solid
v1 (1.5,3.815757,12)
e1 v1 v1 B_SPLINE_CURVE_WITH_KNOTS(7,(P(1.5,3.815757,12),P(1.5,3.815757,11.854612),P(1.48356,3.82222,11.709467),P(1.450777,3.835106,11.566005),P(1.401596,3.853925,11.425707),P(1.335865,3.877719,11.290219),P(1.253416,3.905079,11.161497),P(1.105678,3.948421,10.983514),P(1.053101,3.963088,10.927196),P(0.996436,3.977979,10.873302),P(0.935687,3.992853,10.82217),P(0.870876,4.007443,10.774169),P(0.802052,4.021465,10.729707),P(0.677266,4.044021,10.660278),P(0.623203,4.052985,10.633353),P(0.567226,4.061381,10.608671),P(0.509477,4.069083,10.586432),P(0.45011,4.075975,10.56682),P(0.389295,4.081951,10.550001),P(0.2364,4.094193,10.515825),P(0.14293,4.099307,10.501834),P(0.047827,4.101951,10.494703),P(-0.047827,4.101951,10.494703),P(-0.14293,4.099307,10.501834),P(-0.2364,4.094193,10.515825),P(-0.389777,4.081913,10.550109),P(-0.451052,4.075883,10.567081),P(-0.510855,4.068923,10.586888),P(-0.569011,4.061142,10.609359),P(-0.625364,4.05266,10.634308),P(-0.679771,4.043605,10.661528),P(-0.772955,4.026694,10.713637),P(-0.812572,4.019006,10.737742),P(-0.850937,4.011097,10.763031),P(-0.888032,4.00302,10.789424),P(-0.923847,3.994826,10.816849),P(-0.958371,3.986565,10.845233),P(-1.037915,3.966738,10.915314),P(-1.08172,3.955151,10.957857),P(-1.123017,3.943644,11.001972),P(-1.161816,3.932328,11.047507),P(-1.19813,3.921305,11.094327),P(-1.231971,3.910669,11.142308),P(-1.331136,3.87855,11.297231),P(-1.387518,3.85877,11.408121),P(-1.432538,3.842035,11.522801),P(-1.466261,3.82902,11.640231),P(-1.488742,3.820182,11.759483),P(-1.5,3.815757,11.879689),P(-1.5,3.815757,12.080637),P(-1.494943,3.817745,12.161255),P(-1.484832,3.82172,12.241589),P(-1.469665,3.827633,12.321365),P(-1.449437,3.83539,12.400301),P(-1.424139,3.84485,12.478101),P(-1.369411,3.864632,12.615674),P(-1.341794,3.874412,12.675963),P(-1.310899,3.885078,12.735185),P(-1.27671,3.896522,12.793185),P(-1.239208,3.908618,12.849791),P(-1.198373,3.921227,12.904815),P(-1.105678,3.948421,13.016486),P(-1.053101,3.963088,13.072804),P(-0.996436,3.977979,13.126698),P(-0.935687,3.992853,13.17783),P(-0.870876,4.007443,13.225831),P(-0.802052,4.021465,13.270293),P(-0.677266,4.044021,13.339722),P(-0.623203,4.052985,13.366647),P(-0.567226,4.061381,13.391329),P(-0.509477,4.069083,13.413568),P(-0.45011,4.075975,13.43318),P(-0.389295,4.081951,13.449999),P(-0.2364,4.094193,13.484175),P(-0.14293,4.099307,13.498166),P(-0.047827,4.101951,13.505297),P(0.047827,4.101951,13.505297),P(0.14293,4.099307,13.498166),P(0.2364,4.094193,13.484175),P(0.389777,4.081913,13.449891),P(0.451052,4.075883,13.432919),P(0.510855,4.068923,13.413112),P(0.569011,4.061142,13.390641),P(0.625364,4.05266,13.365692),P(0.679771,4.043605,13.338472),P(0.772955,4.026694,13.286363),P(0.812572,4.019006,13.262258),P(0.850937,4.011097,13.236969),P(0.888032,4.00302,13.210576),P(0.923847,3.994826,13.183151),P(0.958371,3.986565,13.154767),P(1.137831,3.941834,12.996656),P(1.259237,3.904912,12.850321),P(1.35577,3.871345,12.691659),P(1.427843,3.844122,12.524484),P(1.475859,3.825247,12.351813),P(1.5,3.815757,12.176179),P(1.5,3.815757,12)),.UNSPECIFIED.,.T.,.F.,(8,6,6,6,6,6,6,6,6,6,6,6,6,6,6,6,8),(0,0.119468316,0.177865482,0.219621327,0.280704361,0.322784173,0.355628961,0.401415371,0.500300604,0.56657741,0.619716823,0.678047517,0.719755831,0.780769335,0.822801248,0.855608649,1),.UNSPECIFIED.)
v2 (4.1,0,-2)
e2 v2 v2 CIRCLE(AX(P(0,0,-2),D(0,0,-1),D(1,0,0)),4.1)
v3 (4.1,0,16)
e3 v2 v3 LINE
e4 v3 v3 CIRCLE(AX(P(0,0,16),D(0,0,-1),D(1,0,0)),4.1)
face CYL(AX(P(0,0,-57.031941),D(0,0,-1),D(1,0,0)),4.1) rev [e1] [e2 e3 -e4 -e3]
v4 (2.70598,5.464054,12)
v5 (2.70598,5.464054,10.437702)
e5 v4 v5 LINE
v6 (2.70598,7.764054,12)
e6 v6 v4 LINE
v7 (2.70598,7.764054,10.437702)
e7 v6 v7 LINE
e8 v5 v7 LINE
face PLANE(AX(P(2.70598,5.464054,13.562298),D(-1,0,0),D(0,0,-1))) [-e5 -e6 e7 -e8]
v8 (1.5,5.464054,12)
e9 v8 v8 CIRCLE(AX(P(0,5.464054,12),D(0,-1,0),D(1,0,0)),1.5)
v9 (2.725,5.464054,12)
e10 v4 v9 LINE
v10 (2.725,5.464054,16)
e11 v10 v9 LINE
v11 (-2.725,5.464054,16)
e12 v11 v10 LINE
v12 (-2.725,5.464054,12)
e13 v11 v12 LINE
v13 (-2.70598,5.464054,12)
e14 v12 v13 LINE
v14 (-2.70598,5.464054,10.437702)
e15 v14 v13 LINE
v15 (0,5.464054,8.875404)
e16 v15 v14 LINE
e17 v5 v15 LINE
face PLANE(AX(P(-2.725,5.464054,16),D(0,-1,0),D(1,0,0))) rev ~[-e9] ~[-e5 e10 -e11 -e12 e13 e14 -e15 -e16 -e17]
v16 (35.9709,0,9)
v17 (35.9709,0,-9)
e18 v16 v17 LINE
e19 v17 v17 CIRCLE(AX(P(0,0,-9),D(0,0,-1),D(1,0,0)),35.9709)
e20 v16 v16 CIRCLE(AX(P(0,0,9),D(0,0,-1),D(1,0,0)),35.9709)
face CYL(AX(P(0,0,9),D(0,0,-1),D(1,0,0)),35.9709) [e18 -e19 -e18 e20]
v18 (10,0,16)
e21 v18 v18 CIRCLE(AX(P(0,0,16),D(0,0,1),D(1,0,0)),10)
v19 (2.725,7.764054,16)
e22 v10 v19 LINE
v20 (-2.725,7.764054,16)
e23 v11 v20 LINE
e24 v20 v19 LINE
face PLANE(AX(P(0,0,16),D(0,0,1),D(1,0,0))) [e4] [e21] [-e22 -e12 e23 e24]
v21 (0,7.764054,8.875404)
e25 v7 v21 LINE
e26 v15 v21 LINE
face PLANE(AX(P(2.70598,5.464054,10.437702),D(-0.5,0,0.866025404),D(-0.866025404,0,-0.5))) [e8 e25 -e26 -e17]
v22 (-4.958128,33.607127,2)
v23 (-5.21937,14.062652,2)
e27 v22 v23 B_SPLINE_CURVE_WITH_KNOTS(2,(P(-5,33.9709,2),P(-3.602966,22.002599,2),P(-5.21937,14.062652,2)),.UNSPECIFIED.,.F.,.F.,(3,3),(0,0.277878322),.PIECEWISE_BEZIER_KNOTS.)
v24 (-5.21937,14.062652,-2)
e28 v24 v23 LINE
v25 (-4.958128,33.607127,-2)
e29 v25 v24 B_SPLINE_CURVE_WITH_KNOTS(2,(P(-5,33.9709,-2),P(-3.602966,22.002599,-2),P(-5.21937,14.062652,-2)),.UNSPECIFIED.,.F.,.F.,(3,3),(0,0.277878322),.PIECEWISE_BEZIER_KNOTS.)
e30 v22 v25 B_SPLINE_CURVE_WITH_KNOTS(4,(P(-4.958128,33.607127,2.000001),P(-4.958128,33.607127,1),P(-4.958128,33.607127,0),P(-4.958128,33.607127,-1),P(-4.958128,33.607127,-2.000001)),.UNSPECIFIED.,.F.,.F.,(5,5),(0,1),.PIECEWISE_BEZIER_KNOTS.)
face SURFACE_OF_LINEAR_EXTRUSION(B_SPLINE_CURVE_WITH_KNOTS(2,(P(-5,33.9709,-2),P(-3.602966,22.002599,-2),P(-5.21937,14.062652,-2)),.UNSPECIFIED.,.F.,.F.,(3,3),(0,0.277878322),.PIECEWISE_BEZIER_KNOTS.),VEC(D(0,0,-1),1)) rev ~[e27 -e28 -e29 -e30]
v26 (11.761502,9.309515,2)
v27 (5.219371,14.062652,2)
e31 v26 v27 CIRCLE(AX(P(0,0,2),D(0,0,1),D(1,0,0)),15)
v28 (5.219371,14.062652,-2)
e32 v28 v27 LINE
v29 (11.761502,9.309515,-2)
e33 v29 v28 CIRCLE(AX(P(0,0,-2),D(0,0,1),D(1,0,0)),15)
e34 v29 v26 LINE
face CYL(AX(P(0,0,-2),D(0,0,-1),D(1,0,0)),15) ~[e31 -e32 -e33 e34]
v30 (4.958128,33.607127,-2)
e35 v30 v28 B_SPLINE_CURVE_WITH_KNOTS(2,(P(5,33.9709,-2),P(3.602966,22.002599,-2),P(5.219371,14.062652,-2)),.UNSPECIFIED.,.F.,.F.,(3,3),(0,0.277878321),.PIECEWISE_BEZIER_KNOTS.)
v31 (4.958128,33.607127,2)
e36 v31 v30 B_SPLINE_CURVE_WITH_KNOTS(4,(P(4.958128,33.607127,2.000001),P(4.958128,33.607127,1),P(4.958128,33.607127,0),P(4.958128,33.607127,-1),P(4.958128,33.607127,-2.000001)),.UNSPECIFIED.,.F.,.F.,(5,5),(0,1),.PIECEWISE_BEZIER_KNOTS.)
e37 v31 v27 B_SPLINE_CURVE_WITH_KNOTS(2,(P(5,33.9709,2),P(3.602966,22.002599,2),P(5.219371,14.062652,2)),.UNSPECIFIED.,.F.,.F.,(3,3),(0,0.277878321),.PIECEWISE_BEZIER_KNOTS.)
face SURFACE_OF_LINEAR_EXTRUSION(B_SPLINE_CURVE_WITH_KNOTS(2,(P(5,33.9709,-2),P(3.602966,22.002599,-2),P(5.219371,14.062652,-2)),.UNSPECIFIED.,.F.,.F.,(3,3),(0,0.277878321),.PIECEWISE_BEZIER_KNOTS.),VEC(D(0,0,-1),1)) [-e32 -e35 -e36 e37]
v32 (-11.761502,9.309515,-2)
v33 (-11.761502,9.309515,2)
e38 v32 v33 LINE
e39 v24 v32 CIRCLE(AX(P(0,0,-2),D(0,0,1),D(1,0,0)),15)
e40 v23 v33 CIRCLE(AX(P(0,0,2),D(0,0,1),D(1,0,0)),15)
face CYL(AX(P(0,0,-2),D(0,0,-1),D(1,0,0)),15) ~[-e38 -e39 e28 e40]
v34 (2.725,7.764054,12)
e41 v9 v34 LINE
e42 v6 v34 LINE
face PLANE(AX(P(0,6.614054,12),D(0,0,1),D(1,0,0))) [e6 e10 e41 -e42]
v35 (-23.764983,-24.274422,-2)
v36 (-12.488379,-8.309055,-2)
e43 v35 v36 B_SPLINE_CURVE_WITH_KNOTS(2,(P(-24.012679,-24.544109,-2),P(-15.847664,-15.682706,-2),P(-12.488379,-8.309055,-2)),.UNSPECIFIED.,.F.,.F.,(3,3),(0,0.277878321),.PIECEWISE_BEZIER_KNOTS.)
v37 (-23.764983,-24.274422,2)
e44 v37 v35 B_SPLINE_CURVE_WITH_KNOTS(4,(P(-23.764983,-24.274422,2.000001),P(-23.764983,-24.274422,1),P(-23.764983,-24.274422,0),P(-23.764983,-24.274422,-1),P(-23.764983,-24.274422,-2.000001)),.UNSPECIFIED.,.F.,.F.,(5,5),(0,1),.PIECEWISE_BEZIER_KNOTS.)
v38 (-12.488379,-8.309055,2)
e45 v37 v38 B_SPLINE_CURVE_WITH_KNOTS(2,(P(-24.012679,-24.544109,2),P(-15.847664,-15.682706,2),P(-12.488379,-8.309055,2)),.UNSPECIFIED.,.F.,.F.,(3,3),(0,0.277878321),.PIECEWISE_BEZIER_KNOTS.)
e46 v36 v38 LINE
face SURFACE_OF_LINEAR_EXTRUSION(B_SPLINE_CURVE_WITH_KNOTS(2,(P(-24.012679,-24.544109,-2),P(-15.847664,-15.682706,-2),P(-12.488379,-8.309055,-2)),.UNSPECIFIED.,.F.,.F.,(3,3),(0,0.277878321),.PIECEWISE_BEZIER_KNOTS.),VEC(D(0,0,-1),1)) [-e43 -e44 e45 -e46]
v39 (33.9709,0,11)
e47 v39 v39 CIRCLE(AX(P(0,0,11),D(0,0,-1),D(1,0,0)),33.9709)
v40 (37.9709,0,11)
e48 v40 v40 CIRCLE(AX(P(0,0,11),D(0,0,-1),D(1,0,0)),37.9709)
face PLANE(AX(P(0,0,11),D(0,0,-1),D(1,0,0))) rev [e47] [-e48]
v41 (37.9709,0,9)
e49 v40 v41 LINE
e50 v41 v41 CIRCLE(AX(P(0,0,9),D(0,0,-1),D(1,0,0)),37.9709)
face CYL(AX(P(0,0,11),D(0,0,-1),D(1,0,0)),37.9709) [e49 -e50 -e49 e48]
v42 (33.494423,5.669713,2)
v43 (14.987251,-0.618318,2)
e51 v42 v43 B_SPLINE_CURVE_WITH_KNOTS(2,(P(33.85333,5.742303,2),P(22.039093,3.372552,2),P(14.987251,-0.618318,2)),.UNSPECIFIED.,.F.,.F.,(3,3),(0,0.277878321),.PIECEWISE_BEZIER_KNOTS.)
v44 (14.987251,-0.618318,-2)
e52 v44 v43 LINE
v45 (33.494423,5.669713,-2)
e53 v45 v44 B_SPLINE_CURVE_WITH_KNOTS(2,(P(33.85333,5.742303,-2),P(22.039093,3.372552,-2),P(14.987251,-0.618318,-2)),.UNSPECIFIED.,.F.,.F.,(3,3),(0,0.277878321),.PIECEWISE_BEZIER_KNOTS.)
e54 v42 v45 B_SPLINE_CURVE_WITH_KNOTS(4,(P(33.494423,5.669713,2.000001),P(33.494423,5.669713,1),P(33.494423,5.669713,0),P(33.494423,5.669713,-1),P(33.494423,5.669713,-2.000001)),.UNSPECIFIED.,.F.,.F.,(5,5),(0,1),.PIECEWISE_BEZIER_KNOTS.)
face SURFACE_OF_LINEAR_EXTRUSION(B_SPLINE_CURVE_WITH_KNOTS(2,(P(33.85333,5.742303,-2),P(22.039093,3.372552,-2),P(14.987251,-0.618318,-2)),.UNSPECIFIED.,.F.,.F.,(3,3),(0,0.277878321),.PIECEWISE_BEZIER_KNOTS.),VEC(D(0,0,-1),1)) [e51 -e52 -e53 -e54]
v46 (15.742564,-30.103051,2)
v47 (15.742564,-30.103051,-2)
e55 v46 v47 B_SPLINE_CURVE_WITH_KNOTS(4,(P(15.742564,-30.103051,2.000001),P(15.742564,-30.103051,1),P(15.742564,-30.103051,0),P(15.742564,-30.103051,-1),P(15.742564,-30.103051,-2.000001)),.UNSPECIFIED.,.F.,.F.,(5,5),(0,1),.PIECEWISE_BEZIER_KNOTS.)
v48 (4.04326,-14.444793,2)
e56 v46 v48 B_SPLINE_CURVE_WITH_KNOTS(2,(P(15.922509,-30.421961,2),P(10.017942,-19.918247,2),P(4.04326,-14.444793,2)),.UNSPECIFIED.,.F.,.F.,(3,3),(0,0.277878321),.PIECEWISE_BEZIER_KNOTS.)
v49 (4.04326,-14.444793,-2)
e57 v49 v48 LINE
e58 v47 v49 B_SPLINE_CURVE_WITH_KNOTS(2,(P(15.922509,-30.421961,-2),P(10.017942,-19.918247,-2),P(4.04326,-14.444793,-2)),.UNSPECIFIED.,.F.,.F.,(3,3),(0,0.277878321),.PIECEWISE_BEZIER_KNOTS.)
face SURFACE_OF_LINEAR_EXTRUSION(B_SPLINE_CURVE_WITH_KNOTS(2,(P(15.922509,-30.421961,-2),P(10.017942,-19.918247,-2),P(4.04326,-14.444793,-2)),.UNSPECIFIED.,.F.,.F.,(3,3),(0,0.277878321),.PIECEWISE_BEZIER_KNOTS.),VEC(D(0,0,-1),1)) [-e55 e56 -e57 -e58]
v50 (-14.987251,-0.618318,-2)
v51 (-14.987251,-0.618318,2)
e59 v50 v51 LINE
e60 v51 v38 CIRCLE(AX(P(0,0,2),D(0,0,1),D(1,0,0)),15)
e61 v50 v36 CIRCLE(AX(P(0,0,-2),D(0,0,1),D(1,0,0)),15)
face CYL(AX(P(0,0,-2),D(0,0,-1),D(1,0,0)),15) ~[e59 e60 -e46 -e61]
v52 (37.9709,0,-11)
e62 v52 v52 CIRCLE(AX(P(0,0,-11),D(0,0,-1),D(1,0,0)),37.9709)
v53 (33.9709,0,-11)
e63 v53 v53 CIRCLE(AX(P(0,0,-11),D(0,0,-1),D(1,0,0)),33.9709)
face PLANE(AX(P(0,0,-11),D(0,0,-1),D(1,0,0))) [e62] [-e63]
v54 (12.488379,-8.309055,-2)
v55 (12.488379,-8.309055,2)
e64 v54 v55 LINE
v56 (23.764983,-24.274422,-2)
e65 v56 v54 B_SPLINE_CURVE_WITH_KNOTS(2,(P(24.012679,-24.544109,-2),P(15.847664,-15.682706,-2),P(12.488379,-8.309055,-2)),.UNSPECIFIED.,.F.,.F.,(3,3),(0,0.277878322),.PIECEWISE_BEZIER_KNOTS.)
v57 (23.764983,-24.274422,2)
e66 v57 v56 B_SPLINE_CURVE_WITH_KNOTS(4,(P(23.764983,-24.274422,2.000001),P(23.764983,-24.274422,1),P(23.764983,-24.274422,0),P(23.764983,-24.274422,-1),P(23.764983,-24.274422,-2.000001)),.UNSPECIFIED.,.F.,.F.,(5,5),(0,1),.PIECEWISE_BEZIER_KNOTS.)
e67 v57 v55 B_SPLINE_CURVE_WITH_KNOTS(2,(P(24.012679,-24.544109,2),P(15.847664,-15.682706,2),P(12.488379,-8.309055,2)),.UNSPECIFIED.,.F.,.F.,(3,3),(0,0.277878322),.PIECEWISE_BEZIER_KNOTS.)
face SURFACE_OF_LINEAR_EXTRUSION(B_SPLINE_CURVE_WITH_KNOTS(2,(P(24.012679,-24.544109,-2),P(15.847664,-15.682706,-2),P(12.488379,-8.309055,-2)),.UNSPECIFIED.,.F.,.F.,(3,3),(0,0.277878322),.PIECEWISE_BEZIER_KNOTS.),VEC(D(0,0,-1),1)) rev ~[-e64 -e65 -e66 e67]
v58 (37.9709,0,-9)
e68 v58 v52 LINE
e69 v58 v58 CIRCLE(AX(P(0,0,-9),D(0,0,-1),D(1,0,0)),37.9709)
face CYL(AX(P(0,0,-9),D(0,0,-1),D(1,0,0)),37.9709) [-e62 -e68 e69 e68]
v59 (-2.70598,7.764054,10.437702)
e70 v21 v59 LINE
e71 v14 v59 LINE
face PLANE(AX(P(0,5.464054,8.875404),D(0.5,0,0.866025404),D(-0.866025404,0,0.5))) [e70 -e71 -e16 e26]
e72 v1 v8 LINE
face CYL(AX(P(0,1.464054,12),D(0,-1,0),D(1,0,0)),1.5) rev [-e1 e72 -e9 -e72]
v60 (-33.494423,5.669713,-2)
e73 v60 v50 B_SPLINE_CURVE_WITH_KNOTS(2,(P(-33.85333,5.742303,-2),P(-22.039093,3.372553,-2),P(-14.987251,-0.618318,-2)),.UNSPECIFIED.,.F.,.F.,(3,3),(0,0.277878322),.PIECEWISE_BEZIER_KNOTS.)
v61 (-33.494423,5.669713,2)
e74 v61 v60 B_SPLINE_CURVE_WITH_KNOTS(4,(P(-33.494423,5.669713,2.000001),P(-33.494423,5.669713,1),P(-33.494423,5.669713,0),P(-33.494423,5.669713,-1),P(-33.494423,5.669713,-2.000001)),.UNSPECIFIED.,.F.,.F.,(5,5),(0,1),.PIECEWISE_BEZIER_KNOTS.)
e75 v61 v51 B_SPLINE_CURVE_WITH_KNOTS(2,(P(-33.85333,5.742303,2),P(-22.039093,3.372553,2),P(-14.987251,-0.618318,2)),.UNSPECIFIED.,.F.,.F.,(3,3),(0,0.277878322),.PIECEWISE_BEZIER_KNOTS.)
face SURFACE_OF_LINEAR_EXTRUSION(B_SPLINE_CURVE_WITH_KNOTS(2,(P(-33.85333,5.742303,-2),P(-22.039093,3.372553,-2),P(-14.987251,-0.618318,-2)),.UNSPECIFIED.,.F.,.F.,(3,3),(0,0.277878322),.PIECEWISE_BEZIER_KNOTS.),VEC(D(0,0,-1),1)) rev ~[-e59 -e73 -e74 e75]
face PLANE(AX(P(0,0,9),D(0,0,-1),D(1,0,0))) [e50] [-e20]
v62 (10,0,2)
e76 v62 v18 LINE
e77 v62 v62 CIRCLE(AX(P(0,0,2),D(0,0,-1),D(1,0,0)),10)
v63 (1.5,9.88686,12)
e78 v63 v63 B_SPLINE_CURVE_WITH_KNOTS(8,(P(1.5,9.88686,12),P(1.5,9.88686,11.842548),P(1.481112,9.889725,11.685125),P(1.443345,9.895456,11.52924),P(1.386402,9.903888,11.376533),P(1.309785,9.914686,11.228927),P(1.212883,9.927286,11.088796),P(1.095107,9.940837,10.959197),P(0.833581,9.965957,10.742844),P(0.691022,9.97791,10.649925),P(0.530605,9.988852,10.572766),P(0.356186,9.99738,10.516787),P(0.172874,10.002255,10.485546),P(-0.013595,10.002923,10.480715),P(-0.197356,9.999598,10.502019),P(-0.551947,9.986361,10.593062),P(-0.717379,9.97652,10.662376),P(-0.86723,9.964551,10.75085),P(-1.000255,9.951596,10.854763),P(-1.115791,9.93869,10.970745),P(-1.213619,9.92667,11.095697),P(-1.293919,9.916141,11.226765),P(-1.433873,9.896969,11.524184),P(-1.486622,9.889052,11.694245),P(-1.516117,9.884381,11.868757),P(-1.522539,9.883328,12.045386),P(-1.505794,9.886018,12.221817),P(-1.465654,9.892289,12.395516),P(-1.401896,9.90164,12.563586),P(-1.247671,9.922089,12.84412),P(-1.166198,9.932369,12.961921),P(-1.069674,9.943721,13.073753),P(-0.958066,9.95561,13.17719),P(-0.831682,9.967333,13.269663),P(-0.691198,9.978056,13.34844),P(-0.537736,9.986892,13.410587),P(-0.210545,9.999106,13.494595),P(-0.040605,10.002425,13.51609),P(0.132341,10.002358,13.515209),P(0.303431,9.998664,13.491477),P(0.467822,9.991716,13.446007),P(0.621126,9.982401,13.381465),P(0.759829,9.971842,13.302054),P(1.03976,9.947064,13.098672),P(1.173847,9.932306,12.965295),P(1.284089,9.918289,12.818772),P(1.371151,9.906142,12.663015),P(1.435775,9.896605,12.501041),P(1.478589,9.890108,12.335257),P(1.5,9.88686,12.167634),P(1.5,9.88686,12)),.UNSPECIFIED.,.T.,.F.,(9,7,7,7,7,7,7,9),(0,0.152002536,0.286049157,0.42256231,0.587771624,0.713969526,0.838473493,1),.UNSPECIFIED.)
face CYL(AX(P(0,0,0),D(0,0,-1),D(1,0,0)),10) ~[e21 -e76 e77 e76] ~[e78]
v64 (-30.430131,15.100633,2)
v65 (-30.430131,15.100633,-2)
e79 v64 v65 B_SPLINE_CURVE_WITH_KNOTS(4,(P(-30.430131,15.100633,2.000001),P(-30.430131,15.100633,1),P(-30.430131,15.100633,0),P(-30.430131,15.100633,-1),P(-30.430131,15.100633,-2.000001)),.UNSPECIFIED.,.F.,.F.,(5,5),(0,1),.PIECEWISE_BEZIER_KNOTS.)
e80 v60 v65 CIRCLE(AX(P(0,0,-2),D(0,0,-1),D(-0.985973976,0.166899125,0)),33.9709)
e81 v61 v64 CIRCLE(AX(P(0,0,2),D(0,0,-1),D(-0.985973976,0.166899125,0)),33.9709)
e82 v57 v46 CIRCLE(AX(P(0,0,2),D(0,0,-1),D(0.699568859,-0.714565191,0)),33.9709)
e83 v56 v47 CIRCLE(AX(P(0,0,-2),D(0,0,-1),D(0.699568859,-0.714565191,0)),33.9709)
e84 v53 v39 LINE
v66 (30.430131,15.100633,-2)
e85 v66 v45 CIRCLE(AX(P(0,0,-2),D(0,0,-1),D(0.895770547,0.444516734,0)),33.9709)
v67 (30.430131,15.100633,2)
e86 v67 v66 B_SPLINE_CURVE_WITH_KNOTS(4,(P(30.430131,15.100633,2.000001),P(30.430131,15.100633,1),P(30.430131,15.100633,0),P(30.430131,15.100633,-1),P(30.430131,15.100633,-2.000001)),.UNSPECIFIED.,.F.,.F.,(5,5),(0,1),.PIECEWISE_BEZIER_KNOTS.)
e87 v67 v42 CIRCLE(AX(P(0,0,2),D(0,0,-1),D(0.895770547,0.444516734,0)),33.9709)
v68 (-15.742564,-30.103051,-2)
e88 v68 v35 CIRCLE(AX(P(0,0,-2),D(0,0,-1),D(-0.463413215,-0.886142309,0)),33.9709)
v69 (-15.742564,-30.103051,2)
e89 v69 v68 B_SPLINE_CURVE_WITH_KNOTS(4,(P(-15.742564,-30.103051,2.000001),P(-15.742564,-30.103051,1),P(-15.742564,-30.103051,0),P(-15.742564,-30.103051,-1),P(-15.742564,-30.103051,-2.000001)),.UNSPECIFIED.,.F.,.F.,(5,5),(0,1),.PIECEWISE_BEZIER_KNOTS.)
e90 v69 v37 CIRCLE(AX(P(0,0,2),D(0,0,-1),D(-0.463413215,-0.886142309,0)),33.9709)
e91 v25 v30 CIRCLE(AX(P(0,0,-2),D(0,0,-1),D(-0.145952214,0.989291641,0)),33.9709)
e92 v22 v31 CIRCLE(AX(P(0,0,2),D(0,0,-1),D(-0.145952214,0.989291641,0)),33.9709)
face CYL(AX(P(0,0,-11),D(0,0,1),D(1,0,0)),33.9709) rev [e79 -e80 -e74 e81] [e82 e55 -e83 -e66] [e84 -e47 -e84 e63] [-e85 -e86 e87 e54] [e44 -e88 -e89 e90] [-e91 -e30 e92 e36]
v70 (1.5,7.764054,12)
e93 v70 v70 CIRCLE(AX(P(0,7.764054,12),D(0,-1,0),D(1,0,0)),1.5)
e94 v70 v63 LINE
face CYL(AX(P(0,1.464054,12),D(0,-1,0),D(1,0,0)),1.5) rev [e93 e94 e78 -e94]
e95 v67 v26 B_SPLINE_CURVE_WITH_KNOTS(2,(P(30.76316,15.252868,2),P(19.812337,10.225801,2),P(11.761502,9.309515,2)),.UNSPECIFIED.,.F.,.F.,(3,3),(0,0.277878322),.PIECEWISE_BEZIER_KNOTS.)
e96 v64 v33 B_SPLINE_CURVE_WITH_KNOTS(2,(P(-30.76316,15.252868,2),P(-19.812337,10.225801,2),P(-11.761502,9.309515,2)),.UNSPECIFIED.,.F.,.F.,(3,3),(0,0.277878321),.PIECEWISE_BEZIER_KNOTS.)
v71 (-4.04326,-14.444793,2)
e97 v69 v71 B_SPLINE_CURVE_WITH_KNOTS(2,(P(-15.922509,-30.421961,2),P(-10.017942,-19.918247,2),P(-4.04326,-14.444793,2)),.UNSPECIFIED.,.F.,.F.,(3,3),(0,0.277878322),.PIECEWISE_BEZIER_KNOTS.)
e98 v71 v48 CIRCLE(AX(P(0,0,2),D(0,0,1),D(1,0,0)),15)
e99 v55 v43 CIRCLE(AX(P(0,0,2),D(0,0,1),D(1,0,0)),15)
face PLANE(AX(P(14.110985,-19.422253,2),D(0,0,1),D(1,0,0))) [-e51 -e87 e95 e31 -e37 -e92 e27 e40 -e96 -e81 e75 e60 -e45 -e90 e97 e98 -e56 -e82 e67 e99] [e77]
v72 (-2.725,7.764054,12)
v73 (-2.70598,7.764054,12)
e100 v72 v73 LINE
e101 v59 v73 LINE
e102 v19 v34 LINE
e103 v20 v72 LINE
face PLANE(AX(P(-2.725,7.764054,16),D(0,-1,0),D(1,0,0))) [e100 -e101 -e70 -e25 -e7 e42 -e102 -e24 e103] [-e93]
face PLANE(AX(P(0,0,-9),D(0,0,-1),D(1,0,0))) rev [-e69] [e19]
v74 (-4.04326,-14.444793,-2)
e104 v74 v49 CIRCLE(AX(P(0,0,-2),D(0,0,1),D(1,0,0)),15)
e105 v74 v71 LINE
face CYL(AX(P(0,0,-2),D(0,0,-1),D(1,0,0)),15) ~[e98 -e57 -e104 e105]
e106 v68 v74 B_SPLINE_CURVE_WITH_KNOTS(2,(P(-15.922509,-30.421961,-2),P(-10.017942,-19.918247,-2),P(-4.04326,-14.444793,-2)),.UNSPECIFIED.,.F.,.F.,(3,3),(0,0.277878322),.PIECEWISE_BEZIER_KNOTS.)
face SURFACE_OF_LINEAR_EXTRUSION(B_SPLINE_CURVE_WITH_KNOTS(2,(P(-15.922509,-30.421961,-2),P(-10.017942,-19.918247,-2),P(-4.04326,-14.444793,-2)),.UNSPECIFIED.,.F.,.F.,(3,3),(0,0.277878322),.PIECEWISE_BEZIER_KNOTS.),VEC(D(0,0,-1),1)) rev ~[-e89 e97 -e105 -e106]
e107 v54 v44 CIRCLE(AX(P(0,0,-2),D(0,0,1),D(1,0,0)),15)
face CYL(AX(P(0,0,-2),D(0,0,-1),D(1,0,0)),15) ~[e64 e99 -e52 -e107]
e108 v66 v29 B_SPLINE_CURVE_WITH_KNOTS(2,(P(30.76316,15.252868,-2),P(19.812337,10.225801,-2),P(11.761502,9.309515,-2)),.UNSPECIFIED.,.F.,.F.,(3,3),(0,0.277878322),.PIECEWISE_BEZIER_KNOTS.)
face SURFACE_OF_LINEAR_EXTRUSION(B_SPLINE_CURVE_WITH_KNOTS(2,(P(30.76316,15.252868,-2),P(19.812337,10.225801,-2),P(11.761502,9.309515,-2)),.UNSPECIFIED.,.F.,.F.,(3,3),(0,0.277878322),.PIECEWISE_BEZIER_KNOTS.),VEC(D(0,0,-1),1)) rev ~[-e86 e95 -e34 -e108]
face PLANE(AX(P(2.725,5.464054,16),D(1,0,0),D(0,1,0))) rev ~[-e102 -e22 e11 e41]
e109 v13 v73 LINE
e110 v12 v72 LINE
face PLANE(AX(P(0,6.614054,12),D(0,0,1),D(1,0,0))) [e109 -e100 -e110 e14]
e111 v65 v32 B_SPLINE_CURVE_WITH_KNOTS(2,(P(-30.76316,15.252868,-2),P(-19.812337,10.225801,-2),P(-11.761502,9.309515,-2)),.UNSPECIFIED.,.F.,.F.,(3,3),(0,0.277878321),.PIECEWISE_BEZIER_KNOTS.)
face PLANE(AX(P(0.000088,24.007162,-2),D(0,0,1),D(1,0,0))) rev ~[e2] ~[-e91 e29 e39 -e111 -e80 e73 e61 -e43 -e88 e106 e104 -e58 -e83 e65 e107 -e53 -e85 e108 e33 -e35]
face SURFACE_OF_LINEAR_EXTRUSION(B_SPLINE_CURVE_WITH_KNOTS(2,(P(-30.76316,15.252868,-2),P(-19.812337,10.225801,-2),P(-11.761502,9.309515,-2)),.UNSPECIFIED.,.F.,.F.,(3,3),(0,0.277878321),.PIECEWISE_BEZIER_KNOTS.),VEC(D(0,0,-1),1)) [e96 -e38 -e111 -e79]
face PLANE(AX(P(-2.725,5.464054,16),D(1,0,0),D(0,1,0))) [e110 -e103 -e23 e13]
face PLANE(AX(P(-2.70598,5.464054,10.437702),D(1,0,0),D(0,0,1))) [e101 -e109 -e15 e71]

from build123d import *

# Parameters (mm, degrees)
BOSS_EXTRUDE1_DEPTH      = 2
BOSS_EXTRUDE1_DEPTH_BACK = 2
SKETCH3_R                = 15
BOSS_EXTRUDE3_DEPTH      = 2
BOSS_EXTRUDE3_DEPTH_BACK = 2
SKETCH12_R               = 10
BOSS_EXTRUDE4_DEPTH      = 16
CUT_EXTRUDE1_DEPTH       = 57.031941152
CUT_EXTRUDE1_DEPTH_BACK  = 57.031941152
SKETCH7_R                = 4.1
SKETCH13_W               = 5.45
SKETCH13_H               = 2.3
CUT_EXTRUDE2_DEPTH       = 4
CUT_EXTRUDE3_DEPTH       = 6
CUT_EXTRUDE3_DEPTH_BACK  = 4
SKETCH14_R               = 1.5
CUT_EXTRUDE4_DEPTH       = 2.3


with BuildPart() as part:
    # Sketch2 → Revolve1 (revolve)
    with BuildSketch(Plane(origin=(0, 0, 0), x_dir=(0, 0, -1), z_dir=(1, 0, 0)), mode=Mode.PRIVATE) as revolve1_sk:
        Polygon((-9, 35.970899576), (9, 35.970899576), (9, 37.970899576), (11, 37.970899576), (11, 33.970899576), (-11, 33.970899576), (-11, 37.970899576), (-9, 37.970899576), align=None)
    revolve(revolve1_sk.sketch.rotate(Axis((0, 0, 10), (0, 0, -1)), 90), axis=Axis((0, 0, 10), (0, 0, -1)))



with BuildPart() as body_2:
    # Sketch3 → Boss-Extrude1 (new, two sides: drawn at the far end of the back side and taken through both)
    with BuildSketch(Plane.XY.offset(-BOSS_EXTRUDE1_DEPTH_BACK)):
        Circle(SKETCH3_R)
    extrude(amount=BOSS_EXTRUDE1_DEPTH + BOSS_EXTRUDE1_DEPTH_BACK)


with BuildPart() as part_1:
    add(part.part)

    add(body_2.part)  # Boss-Extrude3 merges body 2
    # Sketch11 → Boss-Extrude3 (add, two sides: drawn at the far end of the back side and taken through both)
    with BuildSketch(Plane.XY.offset(-BOSS_EXTRUDE3_DEPTH_BACK)):
        with BuildLine():
            Line((5, 33.970899576), (-5, 33.970899576))
            add(Edge.make_bspline(
                [(-5, 33.970899576), (-3.602966052, 22.002598894), (-5.219370498, 14.062651656)],
                knots=[0, 0, 0, 0.277878322, 0.277878322, 0.277878322], degree=2))
            add(Edge.make_bspline(
                [(-5.219370498, 14.062651656), (-3.623415853, 14.571458155), (-2.092021841, 14.791258924)],
                knots=[0, 0, 0, 0.220994238, 0.220994238, 0.220994238], degree=2))
            add(Edge.make_bspline(
                [(-2.092021841, 14.791258924), (0.275566205, 15.158843416), (2.712697031, 14.915974307), (5.219370636, 14.062651605)],
                knots=[0.31222072, 0.31222072, 0.31222072, 0.31222072, 0.753229942, 0.753229942, 0.753229942, 0.753229942], degree=3))
            add(Edge.make_bspline(
                [(5, 33.970899576), (3.602966194, 22.002598839), (5.219370636, 14.062651605)],
                knots=[0, 0, 0, 0.277878321, 0.277878321, 0.277878321], degree=2))
        make_face()
        with BuildLine():
            Line((33.853330378, 5.742302702), (30.763160434, 15.252867865))
            add(Edge.make_bspline(
                [(30.763160434, 15.252867865), (19.812337313, 10.225801321), (11.76150231, 9.309514671)],
                knots=[0, 0, 0, 0.277878322, 0.277878322, 0.277878322], degree=2))
            add(Edge.make_bspline(
                [(11.76150231, 9.309514671), (12.738583154, 7.948901461), (13.420852883, 6.56038138)],
                knots=[0, 0, 0, 0.220994238, 0.220994238, 0.220994238], degree=2))
            add(Edge.make_bspline(
                [(13.420852883, 6.56038138), (14.50207145, 4.422261196), (15.024204045, 2.029361361), (14.987250672, -0.618318123)],
                knots=[0.31222072, 0.31222072, 0.31222072, 0.31222072, 0.753229942, 0.753229942, 0.753229942, 0.753229942], degree=3))
            add(Edge.make_bspline(
                [(33.853330378, 5.742302702), (22.039092786, 3.372552484), (14.987250672, -0.618318123)],
                knots=[0, 0, 0, 0.277878321, 0.277878321, 0.277878321], degree=2))
        make_face()
        with BuildLine():
            Line((15.922508806, -30.421961333), (24.01267875, -24.54410881))
            add(Edge.make_bspline(
                [(24.01267875, -24.54410881), (15.847663908, -15.682706115), (12.488378684, -8.309055171)],
                knots=[0, 0, 0, 0.277878322, 0.277878322, 0.277878322], degree=2))
            add(Edge.make_bspline(
                [(12.488378684, -8.309055171), (11.496293211, -9.658766879), (10.386565081, -10.736720252)],
                knots=[0, 0, 0, 0.220994238, 0.220994238, 0.220994238], degree=2))
            add(Edge.make_bspline(
                [(10.386565081, -10.736720252), (8.687206859, -12.42573569), (6.572771723, -13.661760011), (4.043259677, -14.444793221)],
                knots=[0.31222072, 0.31222072, 0.31222072, 0.31222072, 0.753229942, 0.753229942, 0.753229942, 0.753229942], degree=3))
            add(Edge.make_bspline(
                [(15.922508806, -30.421961333), (10.017942228, -19.918246775), (4.043259677, -14.444793221)],
                knots=[0, 0, 0, 0.277878321, 0.277878321, 0.277878321], degree=2))
        make_face()
        with BuildLine():
            Line((-24.01267875, -24.54410881), (-15.922508806, -30.421961333))
            add(Edge.make_bspline(
                [(-15.922508806, -30.421961333), (-10.017942375, -19.918246736), (-4.043259819, -14.444793181)],
                knots=[0, 0, 0, 0.277878322, 0.277878322, 0.277878322], degree=2))
            add(Edge.make_bspline(
                [(-4.043259819, -14.444793181), (-5.633483205, -13.918347682), (-7.001602636, -13.196039424)],
                knots=[0, 0, 0, 0.220994238, 0.220994238, 0.220994238], degree=2))
            add(Edge.make_bspline(
                [(-7.001602636, -13.196039424), (-9.133082344, -12.101788187), (-10.96200772, -10.472793393), (-12.488378766, -8.309055048)],
                knots=[0.31222072, 0.31222072, 0.31222072, 0.31222072, 0.753229942, 0.753229942, 0.753229942, 0.753229942], degree=3))
            add(Edge.make_bspline(
                [(-24.01267875, -24.54410881), (-15.847663991, -15.682705988), (-12.488378766, -8.309055048)],
                knots=[0, 0, 0, 0.277878321, 0.277878321, 0.277878321], degree=2))
        make_face()
        with BuildLine():
            Line((-30.763160434, 15.252867865), (-33.853330378, 5.742302702))
            add(Edge.make_bspline(
                [(-33.853330378, 5.742302702), (-22.039092794, 3.372552636), (-14.987250678, -0.618317975)],
                knots=[0, 0, 0, 0.277878322, 0.277878322, 0.277878322], degree=2))
            add(Edge.make_bspline(
                [(-14.987250678, -0.618317975), (-14.977977306, 1.056754944), (-14.713793486, 2.581119372)],
                knots=[0, 0, 0, 0.220994238, 0.220994238, 0.220994238], degree=2))
            add(Edge.make_bspline(
                [(-14.713793486, 2.581119372), (-14.33176217, 4.946419265), (-13.347665078, 7.189217736), (-11.761502219, 9.309514786)],
                knots=[0.31222072, 0.31222072, 0.31222072, 0.31222072, 0.753229942, 0.753229942, 0.753229942, 0.753229942], degree=3))
            add(Edge.make_bspline(
                [(-30.763160434, 15.252867865), (-19.812337217, 10.225801439), (-11.761502219, 9.309514786)],
                knots=[0, 0, 0, 0.277878321, 0.277878321, 0.277878321], degree=2))
        make_face()
    extrude(amount=BOSS_EXTRUDE3_DEPTH + BOSS_EXTRUDE3_DEPTH_BACK)

    # Sketch12 → Boss-Extrude4 (add)
    with BuildSketch(Plane.XY):
        Circle(SKETCH12_R)
    extrude(amount=BOSS_EXTRUDE4_DEPTH)

    # Sketch7 → Cut-Extrude1 (cut, two sides: drawn at the far end of the back side and taken through both)
    with BuildSketch(Plane.XY.offset(-CUT_EXTRUDE1_DEPTH_BACK)):
        Circle(SKETCH7_R)
    extrude(amount=CUT_EXTRUDE1_DEPTH + CUT_EXTRUDE1_DEPTH_BACK, mode=Mode.SUBTRACT)

    # Sketch13 → Cut-Extrude2 (cut)
    with BuildSketch(Plane.XY.offset(16)):
        with Locations((0, 6.614053633)):
            Rectangle(SKETCH13_W, SKETCH13_H)
    extrude(amount=-CUT_EXTRUDE2_DEPTH, mode=Mode.SUBTRACT)

    # Sketch14 → Cut-Extrude3 (cut, two sides: drawn at the far end of the back side and taken through both)
    with BuildSketch(Plane(origin=(0, 5.464053633, 0), x_dir=(1, 0, 0), z_dir=(0, 1, 0)).offset(-CUT_EXTRUDE3_DEPTH_BACK)):
        with Locations((0, -12)):
            Circle(SKETCH14_R)
    extrude(amount=CUT_EXTRUDE3_DEPTH + CUT_EXTRUDE3_DEPTH_BACK, mode=Mode.SUBTRACT)

    # Sketch16 → Cut-Extrude4 (cut)
    with BuildSketch(Plane(origin=(0, 5.464053633, 0), x_dir=(1, 0, 0), z_dir=(0, 1, 0))):
        Polygon((0, -15.124596023), (2.705979533, -13.562298012), (2.705979533, -10.437701988), (0, -8.875403977), (-2.705979533, -10.437701988), (-2.705979533, -13.562298012), align=None)
    extrude(amount=CUT_EXTRUDE4_DEPTH, mode=Mode.SUBTRACT)


solid = part_1.part
